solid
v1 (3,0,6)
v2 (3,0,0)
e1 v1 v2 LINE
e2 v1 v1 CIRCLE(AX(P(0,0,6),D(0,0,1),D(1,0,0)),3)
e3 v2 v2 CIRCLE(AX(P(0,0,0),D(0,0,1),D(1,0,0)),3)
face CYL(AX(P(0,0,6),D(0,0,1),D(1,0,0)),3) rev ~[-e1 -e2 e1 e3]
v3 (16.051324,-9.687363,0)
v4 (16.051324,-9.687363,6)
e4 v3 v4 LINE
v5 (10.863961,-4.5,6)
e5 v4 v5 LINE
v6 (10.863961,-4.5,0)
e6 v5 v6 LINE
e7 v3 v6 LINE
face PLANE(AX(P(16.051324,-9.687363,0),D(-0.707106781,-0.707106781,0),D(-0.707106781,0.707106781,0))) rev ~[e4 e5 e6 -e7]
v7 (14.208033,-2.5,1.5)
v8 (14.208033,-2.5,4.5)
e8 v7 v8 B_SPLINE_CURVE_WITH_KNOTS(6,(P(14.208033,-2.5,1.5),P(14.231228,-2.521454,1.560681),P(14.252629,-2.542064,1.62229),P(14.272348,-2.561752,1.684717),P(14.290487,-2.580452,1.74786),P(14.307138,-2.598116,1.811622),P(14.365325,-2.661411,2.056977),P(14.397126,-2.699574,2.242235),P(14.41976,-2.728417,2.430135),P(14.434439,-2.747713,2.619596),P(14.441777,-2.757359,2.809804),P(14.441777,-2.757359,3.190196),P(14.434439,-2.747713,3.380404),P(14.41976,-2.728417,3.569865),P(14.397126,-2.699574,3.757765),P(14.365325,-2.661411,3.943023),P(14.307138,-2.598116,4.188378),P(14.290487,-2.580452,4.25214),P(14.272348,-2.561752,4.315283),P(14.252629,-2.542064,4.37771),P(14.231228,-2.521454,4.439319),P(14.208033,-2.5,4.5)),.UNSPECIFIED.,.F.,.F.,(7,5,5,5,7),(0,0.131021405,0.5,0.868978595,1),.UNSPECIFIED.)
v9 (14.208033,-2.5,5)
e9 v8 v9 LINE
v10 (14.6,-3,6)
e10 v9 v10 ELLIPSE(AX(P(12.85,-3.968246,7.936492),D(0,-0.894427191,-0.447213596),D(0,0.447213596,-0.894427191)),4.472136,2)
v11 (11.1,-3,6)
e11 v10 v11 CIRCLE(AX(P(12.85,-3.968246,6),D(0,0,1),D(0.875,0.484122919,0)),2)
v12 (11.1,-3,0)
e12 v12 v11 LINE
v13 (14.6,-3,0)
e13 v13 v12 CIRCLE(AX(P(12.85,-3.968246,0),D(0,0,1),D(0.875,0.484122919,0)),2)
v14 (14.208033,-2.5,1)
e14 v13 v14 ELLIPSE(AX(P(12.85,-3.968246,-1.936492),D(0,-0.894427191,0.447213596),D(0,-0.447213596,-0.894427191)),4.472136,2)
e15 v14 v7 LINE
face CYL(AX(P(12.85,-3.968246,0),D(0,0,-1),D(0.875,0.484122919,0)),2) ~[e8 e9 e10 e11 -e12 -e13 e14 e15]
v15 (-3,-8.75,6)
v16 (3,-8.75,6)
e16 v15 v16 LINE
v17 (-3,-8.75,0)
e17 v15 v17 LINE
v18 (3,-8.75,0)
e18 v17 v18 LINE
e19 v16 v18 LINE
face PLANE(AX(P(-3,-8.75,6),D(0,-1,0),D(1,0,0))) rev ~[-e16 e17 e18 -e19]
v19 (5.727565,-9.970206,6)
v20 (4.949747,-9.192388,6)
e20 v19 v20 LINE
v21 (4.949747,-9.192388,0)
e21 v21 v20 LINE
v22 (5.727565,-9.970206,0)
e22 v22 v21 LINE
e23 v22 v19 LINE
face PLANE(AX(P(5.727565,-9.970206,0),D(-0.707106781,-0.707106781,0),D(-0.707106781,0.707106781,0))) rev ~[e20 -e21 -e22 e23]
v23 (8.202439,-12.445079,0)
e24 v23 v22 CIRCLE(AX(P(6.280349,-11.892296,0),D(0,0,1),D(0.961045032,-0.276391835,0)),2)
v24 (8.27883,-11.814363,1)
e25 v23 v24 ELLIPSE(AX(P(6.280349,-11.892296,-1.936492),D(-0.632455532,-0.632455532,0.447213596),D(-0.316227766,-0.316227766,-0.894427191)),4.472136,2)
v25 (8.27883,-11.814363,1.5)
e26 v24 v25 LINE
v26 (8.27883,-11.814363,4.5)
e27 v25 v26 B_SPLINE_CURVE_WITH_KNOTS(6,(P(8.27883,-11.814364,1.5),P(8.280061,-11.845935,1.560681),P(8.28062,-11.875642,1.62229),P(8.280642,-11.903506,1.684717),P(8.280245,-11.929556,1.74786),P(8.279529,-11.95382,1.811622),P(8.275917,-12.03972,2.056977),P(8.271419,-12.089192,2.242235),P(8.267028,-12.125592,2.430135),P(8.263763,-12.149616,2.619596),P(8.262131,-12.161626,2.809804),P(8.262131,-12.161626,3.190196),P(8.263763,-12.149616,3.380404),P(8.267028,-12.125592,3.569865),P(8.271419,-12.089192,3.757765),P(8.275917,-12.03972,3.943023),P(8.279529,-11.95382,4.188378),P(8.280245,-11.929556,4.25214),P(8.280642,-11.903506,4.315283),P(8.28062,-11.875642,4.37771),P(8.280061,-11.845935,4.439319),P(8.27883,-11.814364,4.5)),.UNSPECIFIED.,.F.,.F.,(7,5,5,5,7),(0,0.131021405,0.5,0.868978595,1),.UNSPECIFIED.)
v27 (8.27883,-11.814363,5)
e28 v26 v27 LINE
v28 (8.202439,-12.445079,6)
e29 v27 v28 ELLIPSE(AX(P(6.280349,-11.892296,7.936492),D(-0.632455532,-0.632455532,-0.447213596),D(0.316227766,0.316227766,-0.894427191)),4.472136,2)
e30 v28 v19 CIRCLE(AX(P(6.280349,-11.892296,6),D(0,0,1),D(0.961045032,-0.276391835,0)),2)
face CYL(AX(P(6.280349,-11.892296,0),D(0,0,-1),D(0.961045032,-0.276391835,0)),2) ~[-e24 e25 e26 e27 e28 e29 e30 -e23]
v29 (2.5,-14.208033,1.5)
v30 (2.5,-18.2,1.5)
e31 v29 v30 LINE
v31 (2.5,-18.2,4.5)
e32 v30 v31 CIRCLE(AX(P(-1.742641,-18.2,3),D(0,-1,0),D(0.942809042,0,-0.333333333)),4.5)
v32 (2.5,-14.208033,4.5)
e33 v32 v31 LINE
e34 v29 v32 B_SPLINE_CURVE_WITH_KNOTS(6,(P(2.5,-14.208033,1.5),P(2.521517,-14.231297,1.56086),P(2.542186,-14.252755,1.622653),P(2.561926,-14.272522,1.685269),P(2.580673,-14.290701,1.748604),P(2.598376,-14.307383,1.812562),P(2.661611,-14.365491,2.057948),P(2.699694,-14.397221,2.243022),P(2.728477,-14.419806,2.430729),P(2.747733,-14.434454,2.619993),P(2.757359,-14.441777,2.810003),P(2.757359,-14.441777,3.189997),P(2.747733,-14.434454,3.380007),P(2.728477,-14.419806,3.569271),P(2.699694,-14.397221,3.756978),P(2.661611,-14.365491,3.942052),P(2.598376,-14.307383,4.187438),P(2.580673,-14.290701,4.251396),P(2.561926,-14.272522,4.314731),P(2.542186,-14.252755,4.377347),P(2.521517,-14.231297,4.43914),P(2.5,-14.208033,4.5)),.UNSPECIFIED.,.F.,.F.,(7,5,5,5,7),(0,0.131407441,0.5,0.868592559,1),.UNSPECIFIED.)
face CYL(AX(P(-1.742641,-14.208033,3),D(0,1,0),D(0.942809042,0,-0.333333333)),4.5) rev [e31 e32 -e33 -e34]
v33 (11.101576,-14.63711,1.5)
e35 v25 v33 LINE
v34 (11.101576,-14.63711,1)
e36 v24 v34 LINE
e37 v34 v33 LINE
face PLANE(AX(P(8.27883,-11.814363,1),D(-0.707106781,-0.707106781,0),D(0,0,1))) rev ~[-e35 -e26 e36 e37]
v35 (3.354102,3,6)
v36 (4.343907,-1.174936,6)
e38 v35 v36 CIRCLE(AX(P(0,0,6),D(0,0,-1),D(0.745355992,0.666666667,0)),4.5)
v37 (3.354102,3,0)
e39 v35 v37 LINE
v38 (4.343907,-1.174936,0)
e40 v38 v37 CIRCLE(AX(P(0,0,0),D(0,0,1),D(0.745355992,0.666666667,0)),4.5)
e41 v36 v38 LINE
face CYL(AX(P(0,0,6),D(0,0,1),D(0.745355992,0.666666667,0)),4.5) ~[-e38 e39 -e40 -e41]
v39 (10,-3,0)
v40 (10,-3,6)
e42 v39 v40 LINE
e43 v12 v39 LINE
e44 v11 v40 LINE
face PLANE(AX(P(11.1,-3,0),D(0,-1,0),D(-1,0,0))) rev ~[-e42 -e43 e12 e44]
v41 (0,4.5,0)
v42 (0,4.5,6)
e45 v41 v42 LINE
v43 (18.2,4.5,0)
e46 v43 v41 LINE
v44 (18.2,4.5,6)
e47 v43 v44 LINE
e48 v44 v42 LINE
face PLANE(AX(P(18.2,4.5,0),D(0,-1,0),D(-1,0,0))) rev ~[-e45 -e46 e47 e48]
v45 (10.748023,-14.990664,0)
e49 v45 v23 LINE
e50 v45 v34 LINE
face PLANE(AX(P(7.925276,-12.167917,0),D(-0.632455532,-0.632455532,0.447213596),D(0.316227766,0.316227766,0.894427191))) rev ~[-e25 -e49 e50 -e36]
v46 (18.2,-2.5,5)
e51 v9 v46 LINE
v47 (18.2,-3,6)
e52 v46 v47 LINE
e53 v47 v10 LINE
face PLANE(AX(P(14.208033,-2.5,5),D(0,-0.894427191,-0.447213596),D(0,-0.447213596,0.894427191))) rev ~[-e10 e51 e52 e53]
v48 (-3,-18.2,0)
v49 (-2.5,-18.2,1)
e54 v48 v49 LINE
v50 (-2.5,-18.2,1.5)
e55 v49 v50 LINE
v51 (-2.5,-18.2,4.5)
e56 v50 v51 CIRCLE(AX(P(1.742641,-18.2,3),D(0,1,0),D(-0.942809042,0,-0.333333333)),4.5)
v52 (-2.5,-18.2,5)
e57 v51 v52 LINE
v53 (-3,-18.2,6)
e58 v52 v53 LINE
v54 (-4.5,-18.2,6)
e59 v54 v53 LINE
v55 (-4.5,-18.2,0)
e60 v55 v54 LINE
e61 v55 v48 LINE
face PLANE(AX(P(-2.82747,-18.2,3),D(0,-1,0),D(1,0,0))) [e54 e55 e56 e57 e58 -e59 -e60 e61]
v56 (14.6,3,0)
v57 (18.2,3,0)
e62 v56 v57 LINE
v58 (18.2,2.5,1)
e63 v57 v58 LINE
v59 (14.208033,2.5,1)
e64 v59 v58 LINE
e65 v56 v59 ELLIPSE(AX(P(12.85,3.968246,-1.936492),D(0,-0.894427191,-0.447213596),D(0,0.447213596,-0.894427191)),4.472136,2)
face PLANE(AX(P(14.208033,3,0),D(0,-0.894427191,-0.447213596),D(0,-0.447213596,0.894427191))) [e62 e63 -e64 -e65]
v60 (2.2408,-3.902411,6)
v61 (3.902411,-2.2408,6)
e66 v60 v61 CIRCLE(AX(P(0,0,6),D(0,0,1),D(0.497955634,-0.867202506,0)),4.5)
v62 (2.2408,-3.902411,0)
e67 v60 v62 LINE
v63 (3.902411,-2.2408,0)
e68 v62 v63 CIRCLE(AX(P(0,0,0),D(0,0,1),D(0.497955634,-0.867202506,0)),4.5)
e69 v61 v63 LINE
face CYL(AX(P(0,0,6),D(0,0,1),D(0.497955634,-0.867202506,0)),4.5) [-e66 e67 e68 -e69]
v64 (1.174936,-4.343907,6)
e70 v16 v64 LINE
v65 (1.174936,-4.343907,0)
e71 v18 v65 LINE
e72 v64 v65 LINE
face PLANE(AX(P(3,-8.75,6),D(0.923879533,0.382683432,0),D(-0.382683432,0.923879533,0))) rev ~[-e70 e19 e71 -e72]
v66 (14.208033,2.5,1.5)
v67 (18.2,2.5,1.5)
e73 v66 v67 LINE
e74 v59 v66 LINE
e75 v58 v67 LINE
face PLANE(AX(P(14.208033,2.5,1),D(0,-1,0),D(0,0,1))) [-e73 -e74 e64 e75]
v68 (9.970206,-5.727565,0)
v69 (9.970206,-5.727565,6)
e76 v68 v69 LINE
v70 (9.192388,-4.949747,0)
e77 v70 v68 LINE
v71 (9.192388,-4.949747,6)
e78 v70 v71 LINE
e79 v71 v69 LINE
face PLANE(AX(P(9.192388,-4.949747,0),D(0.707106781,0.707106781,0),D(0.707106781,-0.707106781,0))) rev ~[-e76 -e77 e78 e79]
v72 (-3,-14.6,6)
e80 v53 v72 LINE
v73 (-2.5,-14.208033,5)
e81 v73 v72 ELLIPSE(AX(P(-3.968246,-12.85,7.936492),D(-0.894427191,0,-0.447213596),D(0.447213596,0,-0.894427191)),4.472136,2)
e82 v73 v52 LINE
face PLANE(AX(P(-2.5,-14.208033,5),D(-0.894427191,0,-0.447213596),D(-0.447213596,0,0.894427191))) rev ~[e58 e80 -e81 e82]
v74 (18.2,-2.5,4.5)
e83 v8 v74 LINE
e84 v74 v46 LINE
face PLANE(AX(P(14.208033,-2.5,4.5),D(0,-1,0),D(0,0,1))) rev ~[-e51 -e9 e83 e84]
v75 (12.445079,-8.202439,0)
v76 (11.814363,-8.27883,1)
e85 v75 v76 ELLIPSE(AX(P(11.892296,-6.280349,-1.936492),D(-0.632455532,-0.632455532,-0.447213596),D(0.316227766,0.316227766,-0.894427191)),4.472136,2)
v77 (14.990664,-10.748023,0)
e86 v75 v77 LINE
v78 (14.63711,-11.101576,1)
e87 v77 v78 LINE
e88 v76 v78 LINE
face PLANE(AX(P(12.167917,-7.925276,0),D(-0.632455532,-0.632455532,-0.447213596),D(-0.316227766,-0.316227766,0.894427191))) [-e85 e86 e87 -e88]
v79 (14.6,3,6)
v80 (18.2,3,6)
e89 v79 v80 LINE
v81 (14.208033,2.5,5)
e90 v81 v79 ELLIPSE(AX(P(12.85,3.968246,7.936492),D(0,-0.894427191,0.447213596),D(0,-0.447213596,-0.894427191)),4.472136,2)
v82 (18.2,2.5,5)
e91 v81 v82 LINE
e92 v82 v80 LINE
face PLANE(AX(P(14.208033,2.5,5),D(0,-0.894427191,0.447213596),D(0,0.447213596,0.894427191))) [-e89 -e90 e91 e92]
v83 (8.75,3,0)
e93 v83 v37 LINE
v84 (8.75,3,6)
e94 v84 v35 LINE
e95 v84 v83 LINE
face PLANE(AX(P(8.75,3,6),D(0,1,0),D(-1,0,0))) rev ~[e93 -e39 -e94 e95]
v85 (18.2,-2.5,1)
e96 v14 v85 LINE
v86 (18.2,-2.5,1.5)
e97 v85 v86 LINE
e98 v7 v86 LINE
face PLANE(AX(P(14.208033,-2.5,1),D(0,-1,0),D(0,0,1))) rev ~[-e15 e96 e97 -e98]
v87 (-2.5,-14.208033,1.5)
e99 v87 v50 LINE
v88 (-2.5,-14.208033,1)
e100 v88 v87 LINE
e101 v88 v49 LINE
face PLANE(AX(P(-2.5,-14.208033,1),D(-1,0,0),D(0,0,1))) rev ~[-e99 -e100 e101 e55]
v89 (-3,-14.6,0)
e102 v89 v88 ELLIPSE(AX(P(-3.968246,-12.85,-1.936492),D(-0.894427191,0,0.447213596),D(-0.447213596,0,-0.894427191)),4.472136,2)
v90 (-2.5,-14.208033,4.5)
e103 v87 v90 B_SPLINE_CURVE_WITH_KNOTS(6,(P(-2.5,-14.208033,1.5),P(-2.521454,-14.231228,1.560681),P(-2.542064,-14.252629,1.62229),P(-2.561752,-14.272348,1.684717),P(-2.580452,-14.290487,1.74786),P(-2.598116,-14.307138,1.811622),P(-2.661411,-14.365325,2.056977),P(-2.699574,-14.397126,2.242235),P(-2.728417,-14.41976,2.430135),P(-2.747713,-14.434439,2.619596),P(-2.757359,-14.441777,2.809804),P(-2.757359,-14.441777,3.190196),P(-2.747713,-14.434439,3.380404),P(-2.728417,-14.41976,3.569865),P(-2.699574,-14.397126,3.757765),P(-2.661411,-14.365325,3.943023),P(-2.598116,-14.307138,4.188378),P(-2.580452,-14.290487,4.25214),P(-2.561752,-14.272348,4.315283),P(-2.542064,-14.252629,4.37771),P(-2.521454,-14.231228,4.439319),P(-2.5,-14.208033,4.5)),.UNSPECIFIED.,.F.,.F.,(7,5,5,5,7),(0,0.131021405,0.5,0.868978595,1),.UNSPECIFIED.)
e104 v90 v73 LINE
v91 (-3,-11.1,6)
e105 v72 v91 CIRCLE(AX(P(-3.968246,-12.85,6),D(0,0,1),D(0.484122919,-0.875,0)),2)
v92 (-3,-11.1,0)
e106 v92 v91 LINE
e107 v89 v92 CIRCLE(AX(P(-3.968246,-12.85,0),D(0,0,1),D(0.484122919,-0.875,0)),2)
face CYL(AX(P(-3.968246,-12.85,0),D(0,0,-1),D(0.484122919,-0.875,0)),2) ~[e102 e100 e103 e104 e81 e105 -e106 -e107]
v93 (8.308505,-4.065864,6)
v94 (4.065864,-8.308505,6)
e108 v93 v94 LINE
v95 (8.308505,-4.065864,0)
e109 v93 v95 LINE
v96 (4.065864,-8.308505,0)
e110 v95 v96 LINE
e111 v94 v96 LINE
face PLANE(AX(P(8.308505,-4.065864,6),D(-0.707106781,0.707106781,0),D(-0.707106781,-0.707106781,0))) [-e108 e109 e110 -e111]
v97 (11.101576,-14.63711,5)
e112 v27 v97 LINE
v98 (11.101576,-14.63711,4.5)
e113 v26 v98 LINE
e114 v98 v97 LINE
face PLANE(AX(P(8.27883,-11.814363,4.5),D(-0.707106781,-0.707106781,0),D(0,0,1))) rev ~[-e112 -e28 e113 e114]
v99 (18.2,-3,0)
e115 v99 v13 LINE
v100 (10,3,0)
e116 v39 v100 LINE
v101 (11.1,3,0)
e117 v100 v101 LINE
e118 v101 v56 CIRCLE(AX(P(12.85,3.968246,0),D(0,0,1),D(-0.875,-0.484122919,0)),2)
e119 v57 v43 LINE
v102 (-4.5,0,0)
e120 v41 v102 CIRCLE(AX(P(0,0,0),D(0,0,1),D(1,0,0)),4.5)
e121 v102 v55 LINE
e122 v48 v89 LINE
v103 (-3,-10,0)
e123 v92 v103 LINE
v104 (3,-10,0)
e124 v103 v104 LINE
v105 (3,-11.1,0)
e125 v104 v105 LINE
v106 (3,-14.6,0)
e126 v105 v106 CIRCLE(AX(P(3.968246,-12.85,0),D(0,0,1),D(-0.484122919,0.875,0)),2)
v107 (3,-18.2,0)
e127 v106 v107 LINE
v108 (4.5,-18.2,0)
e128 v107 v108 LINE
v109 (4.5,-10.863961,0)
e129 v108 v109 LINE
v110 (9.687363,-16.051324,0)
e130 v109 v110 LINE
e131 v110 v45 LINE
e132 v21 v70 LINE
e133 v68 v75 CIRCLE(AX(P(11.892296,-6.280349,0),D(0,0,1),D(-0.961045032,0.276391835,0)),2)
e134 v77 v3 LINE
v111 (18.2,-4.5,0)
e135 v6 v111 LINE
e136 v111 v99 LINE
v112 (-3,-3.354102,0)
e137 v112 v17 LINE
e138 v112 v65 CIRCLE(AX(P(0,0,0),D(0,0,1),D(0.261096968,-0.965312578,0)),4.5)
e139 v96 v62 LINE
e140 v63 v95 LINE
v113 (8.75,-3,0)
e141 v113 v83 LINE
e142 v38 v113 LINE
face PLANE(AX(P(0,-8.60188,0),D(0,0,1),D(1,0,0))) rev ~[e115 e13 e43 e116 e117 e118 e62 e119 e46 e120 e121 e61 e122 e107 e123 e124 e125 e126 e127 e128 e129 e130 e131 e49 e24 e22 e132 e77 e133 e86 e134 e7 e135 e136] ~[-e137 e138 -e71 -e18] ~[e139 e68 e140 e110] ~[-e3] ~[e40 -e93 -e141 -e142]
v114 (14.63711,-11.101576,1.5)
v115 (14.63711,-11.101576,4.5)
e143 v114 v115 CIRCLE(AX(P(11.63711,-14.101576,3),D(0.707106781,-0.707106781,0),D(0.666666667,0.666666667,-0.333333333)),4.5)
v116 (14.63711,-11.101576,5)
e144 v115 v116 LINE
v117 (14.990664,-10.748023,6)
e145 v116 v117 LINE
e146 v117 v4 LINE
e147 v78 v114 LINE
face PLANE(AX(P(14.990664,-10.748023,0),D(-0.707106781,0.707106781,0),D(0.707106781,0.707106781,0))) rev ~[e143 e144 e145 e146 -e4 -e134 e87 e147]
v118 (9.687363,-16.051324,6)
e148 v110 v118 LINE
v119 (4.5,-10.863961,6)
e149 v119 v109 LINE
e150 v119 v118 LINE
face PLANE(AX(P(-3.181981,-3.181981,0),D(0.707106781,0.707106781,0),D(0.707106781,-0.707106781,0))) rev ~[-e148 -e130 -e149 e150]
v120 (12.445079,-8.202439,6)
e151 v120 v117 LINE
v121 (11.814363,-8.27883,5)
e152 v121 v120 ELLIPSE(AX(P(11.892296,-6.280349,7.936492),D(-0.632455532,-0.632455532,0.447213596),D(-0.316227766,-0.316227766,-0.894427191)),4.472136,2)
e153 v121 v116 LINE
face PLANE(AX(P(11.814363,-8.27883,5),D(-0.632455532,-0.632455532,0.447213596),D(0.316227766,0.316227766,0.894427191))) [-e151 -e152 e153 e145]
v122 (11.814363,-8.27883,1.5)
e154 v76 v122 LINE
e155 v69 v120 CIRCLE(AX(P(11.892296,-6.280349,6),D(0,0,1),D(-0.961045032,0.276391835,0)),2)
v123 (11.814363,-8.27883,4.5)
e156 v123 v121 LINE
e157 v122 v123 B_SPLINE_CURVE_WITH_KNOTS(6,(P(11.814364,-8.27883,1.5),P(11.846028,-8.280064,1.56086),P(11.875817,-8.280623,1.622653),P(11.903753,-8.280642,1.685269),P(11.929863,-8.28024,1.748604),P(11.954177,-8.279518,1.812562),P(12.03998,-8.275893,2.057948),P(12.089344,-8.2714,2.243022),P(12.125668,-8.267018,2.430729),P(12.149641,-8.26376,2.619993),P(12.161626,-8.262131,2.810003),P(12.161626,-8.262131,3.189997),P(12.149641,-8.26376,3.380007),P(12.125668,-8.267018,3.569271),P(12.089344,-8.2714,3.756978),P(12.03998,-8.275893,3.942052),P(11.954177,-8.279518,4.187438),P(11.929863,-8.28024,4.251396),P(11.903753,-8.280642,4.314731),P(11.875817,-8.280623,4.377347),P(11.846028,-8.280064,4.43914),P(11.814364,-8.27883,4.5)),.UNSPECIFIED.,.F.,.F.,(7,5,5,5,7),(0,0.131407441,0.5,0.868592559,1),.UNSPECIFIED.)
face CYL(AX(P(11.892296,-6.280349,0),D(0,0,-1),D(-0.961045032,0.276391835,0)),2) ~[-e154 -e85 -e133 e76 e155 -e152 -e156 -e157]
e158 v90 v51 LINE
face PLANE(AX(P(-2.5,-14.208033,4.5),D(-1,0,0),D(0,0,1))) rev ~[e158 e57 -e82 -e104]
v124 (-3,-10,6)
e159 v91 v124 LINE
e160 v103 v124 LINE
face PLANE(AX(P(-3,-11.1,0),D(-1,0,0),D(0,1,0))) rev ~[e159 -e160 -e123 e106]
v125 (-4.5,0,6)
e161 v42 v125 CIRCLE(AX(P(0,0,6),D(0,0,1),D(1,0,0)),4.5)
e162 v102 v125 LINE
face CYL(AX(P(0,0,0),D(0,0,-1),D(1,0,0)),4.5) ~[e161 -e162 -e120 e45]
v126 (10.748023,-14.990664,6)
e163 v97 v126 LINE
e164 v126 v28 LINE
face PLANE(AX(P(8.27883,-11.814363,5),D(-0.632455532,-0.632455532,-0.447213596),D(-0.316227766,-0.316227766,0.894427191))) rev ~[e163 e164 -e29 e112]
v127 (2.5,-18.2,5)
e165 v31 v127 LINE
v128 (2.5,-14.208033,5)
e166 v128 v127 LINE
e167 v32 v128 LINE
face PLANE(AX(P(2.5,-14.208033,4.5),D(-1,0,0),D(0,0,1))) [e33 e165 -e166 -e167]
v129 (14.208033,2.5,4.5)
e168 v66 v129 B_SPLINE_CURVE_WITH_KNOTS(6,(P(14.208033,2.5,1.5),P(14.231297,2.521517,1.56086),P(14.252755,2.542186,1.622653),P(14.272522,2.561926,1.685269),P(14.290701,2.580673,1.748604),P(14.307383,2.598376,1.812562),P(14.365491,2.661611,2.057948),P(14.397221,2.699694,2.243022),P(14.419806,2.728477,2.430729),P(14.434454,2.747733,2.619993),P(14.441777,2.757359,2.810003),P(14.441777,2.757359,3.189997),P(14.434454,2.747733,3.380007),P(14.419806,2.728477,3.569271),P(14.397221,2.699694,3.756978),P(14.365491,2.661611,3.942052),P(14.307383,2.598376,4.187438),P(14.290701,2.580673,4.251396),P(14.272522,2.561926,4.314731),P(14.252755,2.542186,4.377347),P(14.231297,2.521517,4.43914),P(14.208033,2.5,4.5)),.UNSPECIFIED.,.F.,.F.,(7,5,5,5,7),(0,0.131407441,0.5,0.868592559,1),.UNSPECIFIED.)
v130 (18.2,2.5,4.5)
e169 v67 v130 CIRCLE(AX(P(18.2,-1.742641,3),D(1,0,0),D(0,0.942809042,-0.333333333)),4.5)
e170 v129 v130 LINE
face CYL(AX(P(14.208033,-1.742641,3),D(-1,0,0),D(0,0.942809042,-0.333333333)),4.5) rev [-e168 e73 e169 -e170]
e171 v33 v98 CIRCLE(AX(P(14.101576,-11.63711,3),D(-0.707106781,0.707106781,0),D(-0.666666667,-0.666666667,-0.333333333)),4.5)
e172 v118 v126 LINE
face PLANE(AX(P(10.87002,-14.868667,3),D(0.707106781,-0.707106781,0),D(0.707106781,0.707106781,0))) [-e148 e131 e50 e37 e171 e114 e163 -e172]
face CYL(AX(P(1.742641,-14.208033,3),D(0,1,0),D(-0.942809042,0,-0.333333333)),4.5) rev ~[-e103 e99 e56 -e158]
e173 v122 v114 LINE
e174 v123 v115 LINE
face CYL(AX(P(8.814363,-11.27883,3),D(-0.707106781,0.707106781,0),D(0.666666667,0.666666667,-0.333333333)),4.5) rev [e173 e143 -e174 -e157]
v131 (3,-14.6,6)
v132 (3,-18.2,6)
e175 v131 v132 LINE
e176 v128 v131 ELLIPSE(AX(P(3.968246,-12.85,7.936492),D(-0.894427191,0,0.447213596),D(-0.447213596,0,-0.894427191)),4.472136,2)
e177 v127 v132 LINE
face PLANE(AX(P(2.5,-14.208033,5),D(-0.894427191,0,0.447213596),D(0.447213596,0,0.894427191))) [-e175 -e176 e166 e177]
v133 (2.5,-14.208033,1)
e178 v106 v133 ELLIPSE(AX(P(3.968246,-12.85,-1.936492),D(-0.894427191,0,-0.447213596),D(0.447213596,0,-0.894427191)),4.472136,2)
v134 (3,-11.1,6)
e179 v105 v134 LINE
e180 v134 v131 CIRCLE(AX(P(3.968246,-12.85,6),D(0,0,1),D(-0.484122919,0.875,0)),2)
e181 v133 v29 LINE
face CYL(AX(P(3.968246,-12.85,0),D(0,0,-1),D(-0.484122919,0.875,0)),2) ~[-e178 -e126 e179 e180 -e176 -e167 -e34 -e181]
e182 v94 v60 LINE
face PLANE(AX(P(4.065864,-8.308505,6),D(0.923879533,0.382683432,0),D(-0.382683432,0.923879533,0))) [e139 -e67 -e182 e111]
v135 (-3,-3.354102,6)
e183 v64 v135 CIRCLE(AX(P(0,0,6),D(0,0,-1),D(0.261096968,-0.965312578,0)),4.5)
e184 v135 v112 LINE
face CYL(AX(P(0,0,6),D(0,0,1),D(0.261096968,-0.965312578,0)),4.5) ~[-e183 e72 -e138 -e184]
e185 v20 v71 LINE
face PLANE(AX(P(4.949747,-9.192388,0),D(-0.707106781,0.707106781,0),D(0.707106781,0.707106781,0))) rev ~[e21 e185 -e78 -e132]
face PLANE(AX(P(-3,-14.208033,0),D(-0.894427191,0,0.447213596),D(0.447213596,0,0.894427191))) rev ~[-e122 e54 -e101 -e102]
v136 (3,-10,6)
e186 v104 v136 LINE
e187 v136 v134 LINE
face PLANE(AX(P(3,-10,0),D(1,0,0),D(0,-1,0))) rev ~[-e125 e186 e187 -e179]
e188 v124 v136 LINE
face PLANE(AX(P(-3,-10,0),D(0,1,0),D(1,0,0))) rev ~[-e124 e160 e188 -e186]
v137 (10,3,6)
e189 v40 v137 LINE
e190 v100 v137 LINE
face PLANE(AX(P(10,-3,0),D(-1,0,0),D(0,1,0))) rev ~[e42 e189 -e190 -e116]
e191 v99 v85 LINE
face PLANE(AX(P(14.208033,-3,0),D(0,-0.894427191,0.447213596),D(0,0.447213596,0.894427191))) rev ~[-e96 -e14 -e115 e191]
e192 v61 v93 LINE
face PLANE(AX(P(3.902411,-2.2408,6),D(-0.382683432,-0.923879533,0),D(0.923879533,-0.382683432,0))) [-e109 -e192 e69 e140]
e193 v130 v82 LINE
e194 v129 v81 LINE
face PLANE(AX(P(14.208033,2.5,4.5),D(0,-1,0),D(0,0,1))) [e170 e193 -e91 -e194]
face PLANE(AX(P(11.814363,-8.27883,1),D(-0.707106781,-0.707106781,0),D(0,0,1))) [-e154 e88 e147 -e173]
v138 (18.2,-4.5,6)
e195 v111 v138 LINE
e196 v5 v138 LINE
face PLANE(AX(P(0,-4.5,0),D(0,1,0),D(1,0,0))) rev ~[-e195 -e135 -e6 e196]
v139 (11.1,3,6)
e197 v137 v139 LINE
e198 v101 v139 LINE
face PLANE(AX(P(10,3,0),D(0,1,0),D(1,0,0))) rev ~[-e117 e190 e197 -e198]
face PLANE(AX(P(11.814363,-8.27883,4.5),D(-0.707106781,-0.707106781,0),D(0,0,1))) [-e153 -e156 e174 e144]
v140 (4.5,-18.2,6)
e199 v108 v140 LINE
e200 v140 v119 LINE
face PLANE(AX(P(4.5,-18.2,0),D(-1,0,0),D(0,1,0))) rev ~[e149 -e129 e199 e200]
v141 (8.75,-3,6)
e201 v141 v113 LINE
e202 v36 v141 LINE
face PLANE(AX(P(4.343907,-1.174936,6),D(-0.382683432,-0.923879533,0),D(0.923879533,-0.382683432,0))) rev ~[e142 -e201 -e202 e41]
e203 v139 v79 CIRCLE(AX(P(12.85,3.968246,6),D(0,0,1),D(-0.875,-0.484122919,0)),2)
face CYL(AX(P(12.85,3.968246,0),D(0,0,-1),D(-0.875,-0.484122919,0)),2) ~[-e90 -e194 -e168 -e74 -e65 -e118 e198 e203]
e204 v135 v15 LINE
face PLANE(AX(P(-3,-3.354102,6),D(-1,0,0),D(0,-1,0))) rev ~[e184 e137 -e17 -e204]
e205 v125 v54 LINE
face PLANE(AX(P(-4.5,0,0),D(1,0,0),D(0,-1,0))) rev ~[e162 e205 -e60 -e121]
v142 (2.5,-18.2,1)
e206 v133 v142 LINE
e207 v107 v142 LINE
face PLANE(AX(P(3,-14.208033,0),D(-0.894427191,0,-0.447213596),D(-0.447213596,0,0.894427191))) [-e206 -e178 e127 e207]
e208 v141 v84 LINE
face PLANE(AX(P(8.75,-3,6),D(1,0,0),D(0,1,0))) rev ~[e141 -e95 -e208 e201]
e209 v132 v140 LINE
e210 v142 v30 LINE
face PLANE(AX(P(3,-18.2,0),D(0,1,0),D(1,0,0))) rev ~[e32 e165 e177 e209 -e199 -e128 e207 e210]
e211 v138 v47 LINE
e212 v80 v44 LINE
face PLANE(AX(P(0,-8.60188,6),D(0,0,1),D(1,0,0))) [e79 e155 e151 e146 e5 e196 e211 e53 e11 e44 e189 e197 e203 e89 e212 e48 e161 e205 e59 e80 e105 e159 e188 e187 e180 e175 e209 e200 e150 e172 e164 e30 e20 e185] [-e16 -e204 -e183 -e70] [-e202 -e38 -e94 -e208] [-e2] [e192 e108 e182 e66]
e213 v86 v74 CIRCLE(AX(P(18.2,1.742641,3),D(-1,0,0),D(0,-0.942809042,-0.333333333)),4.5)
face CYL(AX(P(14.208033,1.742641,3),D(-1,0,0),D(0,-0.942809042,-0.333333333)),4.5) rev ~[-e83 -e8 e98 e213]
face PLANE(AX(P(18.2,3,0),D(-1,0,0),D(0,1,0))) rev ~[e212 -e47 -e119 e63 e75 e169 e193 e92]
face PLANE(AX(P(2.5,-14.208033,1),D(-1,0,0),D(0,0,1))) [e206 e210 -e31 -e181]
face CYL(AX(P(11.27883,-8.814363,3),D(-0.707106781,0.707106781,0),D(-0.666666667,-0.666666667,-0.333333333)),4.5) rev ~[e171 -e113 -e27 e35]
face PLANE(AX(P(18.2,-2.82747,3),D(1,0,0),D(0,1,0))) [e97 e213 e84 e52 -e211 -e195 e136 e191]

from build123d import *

# Parameters (mm, degrees)
EXTRUDE_1_DEPTH          = 6
EXTRUDE_2_REACH          = 25.907
PATTERN_CIRCULAR_1_COUNT = 3
PATTERN_CIRCULAR_1_ANGLE = 90
SKETCH_4_R               = 3
CUT_EXTRUDE_1_DEPTH      = 27.42877236


with BuildPart() as part:
    # 草图1 → 凸台-拉伸1 (new body)
    with BuildSketch(Plane.XY):
        with BuildLine():
            Line((-4.5, 0), (-4.5, -18.2))
            Line((-4.5, -18.2), (-3, -18.2))
            Line((-3, -18.2), (-3, -14.6))
            ThreePointArc((-3, -14.6), (-1.968245837, -12.85), (-3, -11.1))
            Line((-3, -11.1), (-3, -10))
            Line((-3, -10), (3, -10))
            Line((3, -10), (3, -11.1))
            ThreePointArc((3, -11.1), (1.968245837, -12.85), (3, -14.6))
            Line((3, -14.6), (3, -18.2))
            Line((3, -18.2), (4.5, -18.2))
            Line((4.5, -18.2), (4.5, 0))
            ThreePointArc((4.5, 0), (0, 4.5), (-4.5, 0))
        make_face()
    extrude_1 = extrude(amount=EXTRUDE_1_DEPTH)

    # 草图3 → 凸台-拉伸2 (add, up to next)
    with BuildSketch(Plane.XZ.offset(18.2), mode=Mode.PRIVATE) as extrude_2_sk1:
        with BuildLine():
            Line((-3, 6), (-3, 0))
            Line((-3, 0), (-2.5, 1))
            Line((-2.5, 1), (-2.5, 1.5))
            ThreePointArc((-2.5, 1.5), (-2.757359313, 3), (-2.5, 4.5))
            Line((-2.5, 4.5), (-2.5, 5))
            Line((-2.5, 5), (-3, 6))
        make_face()
    extrude_2_tool1 = extrude(extrude_2_sk1.sketch, amount=-EXTRUDE_2_REACH, mode=Mode.PRIVATE) - part.part
    # 草图3 → 凸台-拉伸2 (add, up to next)
    with BuildSketch(Plane.XZ.offset(18.2), mode=Mode.PRIVATE) as extrude_2_sk2:
        with BuildLine():
            Line((3, 0), (2.5, 1))
            Line((2.5, 1), (2.5, 1.5))
            ThreePointArc((2.5, 1.5), (2.757359313, 3), (2.5, 4.5))
            Line((2.5, 4.5), (2.5, 5))
            Line((2.5, 5), (3, 6))
            Line((3, 6), (3, 0))
        make_face()
    extrude_2_tool2 = extrude(extrude_2_sk2.sketch, amount=-EXTRUDE_2_REACH, mode=Mode.PRIVATE) - part.part
    extrude_2_1 = extrude_2_tool1.solids().sort_by_distance((-2.809362, -18.2, 3))[0]
    add(extrude_2_1)
    extrude_2_2 = extrude_2_tool2.solids().sort_by_distance((2.809362, -18.2, 3))[0]
    add(extrude_2_2)
    extrude_2 = extrude_2_1 + extrude_2_2  # 凸台-拉伸2 as one shape, for the pattern or mirror that repeats it

    # 阵列(圆周)1: 凸台-拉伸1, 凸台-拉伸2 ×3 about axis
    pattern_circular_1_axis = Axis((0, 0, 0), (0, 0, 1))
    add([extrude_1.rotate(pattern_circular_1_axis, i * PATTERN_CIRCULAR_1_ANGLE / (PATTERN_CIRCULAR_1_COUNT - 1)) for i in range(1, PATTERN_CIRCULAR_1_COUNT)])
    add([extrude_2.rotate(pattern_circular_1_axis, i * PATTERN_CIRCULAR_1_ANGLE / (PATTERN_CIRCULAR_1_COUNT - 1)) for i in range(1, PATTERN_CIRCULAR_1_COUNT)])

    # 草图4 → 切除-拉伸1 (cut, through all)
    with BuildSketch(Plane.XY.offset(6)):
        Circle(SKETCH_4_R)
        with BuildLine():
            Line((8.75, 3), (3.354101966, 3))
            ThreePointArc((3.354101966, 3), (4.378625055, 1.038095674), (4.343906601, -1.174936357))
            Line((4.343906601, -1.174936357), (8.75, -3))
            Line((8.75, -3), (8.75, 3))
        make_face()
        with BuildLine():
            Line((3, -8.75), (1.174936357, -4.343906601))
            ThreePointArc((1.174936357, -4.343906601), (-1.038095674, -4.378625055), (-3, -3.354101966))
            Line((-3, -3.354101966), (-3, -8.75))
            Line((-3, -8.75), (3, -8.75))
        make_face()
        with BuildLine():
            Line((8.308504679, -4.065863992), (4.065863992, -8.308504679))
            Line((4.065863992, -8.308504679), (2.240800349, -3.90241128))
            ThreePointArc((2.240800349, -3.90241128), (3.181980515, -3.181980515), (3.90241128, -2.240800349))
            Line((3.90241128, -2.240800349), (8.308504679, -4.065863992))
        make_face()
    extrude(amount=-CUT_EXTRUDE_1_DEPTH, mode=Mode.SUBTRACT)


solid = part.part
